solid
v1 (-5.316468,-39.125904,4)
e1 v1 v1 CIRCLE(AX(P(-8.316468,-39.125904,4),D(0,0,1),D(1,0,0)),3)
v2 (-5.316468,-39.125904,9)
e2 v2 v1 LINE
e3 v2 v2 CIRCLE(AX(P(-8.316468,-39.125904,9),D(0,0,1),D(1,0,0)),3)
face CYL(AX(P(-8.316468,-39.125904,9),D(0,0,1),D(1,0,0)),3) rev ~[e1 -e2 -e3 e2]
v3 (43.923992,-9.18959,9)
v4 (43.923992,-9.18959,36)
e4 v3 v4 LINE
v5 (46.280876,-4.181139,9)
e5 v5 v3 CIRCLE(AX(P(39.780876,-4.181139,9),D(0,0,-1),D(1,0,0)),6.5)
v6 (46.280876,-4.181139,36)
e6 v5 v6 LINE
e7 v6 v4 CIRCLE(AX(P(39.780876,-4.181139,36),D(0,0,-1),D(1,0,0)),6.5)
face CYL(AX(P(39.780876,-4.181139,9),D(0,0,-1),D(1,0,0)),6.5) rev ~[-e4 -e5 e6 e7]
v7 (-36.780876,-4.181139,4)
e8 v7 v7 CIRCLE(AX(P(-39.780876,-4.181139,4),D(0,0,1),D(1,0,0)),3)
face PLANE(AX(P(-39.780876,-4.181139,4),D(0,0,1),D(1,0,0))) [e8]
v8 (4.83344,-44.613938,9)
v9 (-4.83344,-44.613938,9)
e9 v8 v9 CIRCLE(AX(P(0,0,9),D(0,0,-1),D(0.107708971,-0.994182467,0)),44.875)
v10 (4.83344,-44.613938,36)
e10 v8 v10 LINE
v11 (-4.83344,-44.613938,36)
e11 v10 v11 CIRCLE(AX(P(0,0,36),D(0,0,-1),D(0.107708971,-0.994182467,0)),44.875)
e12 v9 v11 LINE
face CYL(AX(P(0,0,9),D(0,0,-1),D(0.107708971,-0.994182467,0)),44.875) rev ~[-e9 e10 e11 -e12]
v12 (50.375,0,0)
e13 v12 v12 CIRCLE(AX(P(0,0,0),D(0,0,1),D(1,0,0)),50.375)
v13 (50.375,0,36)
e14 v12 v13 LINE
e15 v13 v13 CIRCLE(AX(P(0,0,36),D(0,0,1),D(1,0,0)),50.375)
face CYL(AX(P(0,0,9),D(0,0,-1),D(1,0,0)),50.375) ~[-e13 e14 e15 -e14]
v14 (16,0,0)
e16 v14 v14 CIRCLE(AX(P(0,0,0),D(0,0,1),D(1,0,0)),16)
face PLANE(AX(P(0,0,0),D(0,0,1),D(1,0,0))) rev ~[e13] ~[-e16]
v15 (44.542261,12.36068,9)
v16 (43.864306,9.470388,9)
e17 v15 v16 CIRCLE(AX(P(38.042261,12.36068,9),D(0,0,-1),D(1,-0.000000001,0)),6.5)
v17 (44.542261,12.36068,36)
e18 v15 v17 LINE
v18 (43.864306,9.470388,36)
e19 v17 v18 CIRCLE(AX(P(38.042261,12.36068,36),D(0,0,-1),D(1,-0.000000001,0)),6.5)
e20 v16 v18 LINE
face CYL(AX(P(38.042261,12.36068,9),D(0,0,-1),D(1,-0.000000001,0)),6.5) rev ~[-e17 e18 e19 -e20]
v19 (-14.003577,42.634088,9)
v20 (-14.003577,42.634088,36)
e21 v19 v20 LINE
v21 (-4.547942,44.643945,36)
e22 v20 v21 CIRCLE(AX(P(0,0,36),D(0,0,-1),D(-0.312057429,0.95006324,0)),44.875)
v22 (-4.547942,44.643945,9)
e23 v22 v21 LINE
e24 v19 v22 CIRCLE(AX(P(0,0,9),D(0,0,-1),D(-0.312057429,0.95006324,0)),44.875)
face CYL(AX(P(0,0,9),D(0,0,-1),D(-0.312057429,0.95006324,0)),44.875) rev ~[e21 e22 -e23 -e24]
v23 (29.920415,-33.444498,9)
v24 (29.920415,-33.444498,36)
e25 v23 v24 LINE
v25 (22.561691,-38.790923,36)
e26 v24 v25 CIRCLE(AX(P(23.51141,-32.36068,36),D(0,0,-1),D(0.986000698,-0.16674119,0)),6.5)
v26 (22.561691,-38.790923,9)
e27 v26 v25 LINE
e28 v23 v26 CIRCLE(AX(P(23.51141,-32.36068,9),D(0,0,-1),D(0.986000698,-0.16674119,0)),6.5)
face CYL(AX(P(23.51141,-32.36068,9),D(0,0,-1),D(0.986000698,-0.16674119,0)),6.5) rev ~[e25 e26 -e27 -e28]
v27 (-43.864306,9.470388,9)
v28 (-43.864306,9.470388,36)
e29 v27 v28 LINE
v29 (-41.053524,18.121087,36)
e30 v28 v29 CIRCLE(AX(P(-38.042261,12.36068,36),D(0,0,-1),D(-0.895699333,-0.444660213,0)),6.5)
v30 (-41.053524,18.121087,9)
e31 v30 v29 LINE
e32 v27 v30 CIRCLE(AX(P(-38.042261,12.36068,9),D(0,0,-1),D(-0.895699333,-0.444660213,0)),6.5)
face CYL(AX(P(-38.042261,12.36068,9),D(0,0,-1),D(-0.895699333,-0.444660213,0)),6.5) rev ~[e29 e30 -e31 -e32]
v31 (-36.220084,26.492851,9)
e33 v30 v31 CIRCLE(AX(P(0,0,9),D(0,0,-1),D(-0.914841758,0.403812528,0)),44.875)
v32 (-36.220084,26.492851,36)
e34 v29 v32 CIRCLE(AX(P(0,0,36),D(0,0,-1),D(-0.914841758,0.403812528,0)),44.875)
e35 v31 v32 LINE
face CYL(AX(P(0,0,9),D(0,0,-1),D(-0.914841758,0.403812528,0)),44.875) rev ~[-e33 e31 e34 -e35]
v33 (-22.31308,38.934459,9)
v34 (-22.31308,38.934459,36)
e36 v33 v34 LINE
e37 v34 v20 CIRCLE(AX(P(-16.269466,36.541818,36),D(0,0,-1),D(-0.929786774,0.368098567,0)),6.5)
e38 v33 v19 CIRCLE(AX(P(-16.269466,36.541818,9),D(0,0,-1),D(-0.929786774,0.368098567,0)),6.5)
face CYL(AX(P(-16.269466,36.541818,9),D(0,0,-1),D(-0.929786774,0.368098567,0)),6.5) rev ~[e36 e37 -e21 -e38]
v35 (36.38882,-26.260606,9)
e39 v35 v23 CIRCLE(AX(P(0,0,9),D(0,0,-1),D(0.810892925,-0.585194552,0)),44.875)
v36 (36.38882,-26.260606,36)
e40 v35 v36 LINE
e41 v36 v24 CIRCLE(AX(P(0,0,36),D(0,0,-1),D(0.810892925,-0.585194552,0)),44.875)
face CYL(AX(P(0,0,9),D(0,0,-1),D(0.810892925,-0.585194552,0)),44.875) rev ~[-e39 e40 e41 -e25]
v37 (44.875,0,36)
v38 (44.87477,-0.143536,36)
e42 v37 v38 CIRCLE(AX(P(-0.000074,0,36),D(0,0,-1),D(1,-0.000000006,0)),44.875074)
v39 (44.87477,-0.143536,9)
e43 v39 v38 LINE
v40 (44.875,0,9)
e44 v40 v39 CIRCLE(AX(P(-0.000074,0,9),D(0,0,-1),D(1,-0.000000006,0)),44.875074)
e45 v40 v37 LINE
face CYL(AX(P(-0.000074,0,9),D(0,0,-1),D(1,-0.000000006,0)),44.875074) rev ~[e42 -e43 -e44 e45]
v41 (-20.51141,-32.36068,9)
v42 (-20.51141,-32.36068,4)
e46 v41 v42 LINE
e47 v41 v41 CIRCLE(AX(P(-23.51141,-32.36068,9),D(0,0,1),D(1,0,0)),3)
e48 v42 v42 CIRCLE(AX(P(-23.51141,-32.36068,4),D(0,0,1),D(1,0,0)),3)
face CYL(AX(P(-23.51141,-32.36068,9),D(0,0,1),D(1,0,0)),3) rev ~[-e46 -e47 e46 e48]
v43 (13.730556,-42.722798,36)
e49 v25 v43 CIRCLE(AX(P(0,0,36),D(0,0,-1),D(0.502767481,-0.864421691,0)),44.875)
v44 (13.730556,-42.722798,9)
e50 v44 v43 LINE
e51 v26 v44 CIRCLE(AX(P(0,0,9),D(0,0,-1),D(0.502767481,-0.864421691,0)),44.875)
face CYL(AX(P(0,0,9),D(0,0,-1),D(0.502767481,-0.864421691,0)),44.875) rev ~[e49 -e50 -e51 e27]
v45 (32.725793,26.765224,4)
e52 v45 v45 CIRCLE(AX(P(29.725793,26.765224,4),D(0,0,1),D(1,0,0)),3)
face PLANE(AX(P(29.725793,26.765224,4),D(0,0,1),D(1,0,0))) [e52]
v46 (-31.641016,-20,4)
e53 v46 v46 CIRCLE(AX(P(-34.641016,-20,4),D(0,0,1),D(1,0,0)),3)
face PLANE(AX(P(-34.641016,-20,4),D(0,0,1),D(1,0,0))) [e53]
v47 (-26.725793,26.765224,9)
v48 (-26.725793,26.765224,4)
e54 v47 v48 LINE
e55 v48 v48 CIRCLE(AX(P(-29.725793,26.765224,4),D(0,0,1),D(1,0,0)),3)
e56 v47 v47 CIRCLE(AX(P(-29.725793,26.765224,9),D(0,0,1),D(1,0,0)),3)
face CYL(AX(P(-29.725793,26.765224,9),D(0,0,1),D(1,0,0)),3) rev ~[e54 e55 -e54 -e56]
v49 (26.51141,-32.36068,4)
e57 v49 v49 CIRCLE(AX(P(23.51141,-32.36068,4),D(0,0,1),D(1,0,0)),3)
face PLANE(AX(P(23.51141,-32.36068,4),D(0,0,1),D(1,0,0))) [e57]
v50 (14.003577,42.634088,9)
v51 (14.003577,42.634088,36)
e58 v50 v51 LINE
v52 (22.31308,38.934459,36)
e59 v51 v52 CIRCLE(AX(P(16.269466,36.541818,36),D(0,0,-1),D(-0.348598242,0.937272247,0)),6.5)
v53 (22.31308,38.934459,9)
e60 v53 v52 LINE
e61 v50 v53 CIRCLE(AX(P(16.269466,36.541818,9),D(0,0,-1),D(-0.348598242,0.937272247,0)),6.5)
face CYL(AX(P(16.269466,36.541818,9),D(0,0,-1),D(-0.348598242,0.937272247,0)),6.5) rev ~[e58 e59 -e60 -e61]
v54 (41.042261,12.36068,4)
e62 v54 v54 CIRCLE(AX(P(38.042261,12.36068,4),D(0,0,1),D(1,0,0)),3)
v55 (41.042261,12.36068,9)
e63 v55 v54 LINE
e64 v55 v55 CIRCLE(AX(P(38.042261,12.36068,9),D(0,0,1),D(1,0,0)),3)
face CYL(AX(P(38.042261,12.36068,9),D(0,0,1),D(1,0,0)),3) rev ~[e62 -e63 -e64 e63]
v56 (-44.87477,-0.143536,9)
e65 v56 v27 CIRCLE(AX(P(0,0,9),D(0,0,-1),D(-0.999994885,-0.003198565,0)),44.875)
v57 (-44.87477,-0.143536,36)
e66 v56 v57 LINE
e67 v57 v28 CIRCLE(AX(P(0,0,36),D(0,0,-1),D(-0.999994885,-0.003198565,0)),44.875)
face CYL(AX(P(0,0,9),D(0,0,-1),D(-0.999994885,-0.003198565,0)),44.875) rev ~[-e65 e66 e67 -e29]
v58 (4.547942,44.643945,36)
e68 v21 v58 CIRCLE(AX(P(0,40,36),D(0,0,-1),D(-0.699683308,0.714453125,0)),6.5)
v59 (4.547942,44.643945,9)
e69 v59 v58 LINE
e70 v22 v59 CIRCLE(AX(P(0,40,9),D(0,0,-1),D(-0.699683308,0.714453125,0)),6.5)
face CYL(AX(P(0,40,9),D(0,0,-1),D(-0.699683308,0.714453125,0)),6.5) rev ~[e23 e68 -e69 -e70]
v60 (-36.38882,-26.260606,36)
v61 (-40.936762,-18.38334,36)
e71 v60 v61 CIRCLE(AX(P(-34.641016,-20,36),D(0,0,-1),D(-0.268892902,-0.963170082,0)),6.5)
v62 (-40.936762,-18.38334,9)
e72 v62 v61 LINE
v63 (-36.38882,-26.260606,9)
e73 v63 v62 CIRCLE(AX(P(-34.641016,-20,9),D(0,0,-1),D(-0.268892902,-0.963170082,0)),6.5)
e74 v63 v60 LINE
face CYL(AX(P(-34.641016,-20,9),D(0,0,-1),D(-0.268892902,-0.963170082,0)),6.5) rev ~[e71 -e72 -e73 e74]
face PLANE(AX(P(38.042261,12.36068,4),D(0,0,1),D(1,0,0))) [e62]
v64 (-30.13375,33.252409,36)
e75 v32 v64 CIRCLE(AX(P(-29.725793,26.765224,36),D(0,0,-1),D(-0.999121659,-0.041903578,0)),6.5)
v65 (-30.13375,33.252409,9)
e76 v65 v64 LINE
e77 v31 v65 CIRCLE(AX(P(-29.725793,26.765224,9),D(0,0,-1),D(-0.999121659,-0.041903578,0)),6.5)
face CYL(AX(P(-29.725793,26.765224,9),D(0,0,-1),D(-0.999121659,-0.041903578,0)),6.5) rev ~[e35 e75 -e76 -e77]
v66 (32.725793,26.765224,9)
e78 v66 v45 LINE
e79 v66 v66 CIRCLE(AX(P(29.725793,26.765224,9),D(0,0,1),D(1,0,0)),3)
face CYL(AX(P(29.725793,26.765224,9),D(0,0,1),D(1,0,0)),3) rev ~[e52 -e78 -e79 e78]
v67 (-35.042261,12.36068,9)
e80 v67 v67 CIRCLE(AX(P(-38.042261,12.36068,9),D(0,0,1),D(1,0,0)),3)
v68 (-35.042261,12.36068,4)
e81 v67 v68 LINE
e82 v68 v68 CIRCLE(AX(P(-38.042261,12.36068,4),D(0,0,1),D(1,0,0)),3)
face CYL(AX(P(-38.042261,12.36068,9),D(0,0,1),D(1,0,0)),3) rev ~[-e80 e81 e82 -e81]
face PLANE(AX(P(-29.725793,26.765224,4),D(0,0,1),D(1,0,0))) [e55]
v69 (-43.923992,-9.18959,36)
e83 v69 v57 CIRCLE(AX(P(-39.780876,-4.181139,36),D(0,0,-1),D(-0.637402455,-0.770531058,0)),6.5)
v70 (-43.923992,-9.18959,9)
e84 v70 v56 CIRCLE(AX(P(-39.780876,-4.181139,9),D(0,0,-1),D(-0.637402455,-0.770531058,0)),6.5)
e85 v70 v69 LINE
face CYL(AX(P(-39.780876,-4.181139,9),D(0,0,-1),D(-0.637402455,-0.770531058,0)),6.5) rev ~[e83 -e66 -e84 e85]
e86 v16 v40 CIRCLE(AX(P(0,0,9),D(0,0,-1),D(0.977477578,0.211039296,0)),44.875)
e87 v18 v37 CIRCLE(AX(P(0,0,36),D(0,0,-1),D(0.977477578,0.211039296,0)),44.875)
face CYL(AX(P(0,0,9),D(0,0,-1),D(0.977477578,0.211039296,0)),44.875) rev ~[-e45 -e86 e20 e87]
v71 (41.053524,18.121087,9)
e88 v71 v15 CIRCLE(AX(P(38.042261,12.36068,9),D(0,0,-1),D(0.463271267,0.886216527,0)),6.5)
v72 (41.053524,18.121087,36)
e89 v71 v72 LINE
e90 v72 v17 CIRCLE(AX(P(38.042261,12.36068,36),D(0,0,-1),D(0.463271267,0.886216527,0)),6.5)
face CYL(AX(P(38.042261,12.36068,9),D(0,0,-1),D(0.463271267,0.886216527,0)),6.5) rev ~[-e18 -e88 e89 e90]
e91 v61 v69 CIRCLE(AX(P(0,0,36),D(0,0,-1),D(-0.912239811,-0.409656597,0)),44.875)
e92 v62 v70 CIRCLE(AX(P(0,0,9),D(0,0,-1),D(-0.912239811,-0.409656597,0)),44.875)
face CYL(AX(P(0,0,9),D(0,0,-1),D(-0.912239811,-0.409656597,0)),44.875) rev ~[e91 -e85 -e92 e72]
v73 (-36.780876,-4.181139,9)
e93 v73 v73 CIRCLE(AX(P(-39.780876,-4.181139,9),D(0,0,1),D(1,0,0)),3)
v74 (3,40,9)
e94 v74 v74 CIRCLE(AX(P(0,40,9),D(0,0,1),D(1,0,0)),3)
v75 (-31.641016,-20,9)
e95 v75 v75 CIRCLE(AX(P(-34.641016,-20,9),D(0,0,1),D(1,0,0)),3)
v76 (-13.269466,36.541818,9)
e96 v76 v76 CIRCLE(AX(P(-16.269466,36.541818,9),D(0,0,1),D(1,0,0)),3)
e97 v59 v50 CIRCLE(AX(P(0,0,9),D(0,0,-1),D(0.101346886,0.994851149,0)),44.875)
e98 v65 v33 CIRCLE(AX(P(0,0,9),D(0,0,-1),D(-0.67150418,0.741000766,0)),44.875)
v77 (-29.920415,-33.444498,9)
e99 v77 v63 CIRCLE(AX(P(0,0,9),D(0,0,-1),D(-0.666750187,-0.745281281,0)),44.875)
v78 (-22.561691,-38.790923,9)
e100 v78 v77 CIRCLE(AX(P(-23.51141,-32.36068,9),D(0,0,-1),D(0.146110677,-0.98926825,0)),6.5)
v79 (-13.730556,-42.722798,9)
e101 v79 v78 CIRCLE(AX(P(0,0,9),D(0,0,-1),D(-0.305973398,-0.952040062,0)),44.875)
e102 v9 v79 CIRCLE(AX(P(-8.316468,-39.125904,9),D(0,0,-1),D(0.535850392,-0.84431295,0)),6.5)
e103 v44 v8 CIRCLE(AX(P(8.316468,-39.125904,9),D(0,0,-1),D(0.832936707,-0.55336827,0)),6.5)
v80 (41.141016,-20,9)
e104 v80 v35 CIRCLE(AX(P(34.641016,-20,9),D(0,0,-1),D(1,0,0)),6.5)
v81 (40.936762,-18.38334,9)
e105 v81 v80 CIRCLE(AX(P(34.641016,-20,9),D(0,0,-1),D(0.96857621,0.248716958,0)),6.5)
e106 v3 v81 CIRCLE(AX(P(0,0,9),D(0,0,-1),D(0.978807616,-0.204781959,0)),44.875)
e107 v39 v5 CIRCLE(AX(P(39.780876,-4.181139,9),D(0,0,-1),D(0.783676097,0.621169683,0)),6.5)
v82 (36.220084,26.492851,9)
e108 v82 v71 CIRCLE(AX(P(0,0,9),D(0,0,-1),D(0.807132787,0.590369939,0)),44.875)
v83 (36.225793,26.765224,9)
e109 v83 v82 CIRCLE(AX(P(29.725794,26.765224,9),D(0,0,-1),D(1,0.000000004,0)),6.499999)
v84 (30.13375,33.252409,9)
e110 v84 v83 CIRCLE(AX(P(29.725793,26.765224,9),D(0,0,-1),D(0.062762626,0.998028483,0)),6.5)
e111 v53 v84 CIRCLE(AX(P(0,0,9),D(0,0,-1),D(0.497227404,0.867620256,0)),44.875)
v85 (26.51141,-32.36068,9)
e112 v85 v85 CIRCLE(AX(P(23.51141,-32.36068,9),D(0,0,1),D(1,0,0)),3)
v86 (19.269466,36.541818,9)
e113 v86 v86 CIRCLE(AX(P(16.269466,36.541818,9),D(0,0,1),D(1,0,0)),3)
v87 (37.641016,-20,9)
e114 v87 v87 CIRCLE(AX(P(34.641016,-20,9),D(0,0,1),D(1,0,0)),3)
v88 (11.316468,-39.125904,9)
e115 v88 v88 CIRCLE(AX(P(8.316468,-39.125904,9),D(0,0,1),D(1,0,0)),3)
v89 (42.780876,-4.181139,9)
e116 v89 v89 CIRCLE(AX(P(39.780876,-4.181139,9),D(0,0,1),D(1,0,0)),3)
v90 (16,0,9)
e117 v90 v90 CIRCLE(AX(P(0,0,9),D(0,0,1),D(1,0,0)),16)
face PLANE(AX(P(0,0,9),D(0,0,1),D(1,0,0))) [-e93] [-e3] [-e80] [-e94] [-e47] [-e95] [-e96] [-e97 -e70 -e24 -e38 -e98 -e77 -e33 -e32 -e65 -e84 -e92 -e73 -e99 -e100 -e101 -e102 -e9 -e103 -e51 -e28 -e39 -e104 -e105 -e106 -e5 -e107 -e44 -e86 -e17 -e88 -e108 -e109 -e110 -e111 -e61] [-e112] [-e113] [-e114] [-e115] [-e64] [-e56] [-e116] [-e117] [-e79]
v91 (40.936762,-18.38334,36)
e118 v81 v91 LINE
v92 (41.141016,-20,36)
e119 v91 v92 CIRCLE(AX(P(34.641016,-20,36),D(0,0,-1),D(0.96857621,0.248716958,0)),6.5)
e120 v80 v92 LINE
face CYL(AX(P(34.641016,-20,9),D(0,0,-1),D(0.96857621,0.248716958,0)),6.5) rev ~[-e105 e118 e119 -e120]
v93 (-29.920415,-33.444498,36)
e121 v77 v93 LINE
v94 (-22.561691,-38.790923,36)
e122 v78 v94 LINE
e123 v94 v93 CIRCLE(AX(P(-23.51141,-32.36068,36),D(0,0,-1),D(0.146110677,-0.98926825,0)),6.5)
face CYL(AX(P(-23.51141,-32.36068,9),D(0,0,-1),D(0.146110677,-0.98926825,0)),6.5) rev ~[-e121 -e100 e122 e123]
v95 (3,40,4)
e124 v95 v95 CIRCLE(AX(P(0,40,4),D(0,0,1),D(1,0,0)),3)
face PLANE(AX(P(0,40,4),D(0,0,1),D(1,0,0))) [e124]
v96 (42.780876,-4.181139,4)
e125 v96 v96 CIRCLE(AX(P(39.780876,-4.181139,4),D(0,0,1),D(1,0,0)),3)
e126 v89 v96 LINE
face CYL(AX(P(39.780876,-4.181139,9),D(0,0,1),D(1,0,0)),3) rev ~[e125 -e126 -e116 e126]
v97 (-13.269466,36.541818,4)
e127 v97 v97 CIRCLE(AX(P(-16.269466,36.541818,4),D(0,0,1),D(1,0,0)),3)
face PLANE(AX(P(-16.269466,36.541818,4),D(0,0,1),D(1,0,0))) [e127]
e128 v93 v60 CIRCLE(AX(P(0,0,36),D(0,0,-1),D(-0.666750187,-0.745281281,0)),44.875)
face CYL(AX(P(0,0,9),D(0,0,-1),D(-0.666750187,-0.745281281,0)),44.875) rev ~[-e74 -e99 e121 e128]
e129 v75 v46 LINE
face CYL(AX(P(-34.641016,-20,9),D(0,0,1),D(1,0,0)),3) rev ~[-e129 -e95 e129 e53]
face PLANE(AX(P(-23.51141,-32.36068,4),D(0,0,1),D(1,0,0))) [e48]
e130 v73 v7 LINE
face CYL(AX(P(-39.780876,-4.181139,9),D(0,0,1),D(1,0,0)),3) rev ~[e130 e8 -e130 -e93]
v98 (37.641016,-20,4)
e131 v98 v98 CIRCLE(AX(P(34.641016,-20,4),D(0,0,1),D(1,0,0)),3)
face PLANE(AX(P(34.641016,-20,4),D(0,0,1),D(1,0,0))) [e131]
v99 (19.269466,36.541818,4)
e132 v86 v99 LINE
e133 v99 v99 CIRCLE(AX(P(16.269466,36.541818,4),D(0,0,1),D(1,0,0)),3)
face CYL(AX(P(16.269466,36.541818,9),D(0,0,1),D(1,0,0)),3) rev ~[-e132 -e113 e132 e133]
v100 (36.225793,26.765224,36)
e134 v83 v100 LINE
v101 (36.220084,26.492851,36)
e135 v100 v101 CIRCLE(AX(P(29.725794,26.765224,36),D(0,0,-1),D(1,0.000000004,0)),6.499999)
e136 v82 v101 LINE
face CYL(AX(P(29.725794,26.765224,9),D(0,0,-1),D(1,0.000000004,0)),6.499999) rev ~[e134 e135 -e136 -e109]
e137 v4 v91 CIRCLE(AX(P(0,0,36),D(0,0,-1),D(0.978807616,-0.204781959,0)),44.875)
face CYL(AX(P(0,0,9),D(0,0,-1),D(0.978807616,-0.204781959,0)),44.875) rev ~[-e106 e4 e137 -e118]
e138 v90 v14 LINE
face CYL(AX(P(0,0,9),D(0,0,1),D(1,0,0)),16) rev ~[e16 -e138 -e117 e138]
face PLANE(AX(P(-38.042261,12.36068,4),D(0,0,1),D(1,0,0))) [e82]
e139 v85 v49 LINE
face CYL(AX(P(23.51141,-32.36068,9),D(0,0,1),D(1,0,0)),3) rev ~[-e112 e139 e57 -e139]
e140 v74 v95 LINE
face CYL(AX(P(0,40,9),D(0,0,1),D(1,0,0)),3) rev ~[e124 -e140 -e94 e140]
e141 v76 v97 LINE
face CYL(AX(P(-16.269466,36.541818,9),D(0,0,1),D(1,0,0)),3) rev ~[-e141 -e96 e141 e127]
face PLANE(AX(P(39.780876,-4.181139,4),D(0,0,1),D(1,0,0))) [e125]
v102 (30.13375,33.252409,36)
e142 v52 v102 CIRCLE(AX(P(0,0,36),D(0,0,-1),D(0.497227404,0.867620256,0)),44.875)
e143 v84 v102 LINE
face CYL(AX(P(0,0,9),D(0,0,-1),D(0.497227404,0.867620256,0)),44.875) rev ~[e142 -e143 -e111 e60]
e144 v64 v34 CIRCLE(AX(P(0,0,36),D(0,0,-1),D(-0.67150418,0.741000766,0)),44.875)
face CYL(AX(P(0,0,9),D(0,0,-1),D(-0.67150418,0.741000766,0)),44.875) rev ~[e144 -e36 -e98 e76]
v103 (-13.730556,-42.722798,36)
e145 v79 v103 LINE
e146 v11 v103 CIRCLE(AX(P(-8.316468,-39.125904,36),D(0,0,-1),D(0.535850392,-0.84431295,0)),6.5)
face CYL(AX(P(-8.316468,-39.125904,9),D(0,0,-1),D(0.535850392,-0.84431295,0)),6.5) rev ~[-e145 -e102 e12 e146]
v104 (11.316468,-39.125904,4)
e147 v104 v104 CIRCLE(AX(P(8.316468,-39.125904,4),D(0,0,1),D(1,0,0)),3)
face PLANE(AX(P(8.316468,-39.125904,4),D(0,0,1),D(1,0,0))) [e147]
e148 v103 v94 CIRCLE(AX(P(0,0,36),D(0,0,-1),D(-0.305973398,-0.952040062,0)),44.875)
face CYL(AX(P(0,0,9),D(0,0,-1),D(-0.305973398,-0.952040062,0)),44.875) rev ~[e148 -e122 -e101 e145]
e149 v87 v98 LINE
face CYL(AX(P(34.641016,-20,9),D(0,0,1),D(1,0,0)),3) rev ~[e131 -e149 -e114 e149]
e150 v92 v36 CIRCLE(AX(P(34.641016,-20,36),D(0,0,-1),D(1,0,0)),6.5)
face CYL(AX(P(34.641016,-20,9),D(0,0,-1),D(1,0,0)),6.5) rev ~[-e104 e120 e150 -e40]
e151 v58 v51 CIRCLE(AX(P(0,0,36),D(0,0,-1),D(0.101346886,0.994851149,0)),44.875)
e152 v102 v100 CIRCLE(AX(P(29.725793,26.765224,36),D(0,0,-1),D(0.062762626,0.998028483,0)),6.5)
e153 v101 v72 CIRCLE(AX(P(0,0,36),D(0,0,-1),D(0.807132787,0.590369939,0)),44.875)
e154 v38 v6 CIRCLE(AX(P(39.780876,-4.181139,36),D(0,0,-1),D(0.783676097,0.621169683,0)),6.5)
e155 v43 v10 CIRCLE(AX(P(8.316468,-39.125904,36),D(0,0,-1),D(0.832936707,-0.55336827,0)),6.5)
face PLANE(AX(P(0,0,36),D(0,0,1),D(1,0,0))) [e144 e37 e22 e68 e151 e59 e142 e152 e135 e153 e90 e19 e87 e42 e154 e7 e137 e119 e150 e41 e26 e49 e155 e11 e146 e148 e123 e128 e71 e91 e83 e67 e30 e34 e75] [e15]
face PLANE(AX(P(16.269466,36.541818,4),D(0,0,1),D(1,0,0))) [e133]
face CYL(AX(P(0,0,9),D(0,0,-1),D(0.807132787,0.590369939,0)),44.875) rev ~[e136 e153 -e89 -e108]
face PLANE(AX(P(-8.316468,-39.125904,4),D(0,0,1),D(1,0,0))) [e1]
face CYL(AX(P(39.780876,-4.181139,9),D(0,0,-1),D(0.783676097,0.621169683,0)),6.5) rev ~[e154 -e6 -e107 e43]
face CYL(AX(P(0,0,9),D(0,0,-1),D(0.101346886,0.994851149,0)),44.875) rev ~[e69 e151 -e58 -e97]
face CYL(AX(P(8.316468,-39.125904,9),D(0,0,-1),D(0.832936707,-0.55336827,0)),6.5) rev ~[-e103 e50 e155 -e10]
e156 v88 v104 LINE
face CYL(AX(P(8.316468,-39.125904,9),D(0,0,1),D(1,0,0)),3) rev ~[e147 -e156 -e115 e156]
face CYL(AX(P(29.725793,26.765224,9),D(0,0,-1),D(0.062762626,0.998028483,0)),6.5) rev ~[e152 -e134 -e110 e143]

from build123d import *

# Parameters (mm, degrees)
SKETCH1_R           = 50.375
BOSS_EXTRUDE1_DEPTH = 9
SKETCH2_R           = 50.375
BOSS_EXTRUDE2_DEPTH = 27
SKETCH3_R           = 3
CUT_EXTRUDE3_DEPTH  = 5
SKETCH4_R           = 16
CUT_EXTRUDE4_DEPTH  = 77.185833657


with BuildPart() as part:
    # Sketch1 → Boss-Extrude1 (new body)
    with BuildSketch(Plane.XY):
        Circle(SKETCH1_R)
    extrude(amount=BOSS_EXTRUDE1_DEPTH)

    # Sketch2 → Boss-Extrude2 (add)
    with BuildSketch(Plane.XY.offset(9)):
        Circle(SKETCH2_R)
        with BuildLine():
            ThreePointArc((43.864306317, 9.470388393), (44.621611193, 4.762083526), (44.875, 0))
            ThreePointArc((44.875, 0), (44.874942611, -0.071767888), (44.874770445, -0.143535592))
            ThreePointArc((44.874770445, -0.143535592), (45.919292349, -2.043419548), (46.280875815, -4.181138531))
            ThreePointArc((46.280875815, -4.181138531), (45.662212981, -6.948786113), (43.923991772, -9.189590403))
            ThreePointArc((43.923991772, -9.189590403), (42.678661169, -13.867137623), (40.936761518, -18.383339778))
            ThreePointArc((40.936761518, -18.383339778), (41.089750325, -19.185243866), (41.141016151, -20))
            ThreePointArc((41.141016151, -20), (39.818405701, -23.929966596), (36.388820013, -26.260605535))
            ThreePointArc((36.388820013, -26.260605535), (33.348624043, -30.02723596), (29.920414626, -33.444497509))
            ThreePointArc((29.920414626, -33.444497509), (27.332014232, -37.619290238), (22.561690692, -38.790923399))
            ThreePointArc((22.561690692, -38.790923399), (18.252306858, -40.995352412), (13.730556226, -42.722797787))
            ThreePointArc((13.730556226, -42.722797787), (9.667893623, -45.483863434), (4.833440083, -44.613938203))
            ThreePointArc((4.833440083, -44.613938203), (0, -44.875), (-4.833440083, -44.613938203))
            ThreePointArc((-4.833440083, -44.613938203), (-9.667893623, -45.483863434), (-13.730556226, -42.722797787))
            ThreePointArc((-13.730556226, -42.722797787), (-18.252306858, -40.995352412), (-22.561690692, -38.790923399))
            ThreePointArc((-22.561690692, -38.790923399), (-27.332014232, -37.619290238), (-29.920414626, -33.444497509))
            ThreePointArc((-29.920414626, -33.444497509), (-33.348624043, -30.02723596), (-36.388820013, -26.260605535))
            ThreePointArc((-36.388820013, -26.260605535), (-40.270181276, -23.25), (-40.936761518, -18.383339778))
            ThreePointArc((-40.936761518, -18.383339778), (-42.678661169, -13.867137623), (-43.923991772, -9.189590403))
            ThreePointArc((-43.923991772, -9.189590403), (-46.245268135, -4.860573542), (-44.874770445, -0.143535592))
            ThreePointArc((-44.874770445, -0.143535592), (-44.629170055, 4.690714789), (-43.864306317, 9.470388393))
            ThreePointArc((-43.864306317, 9.470388393), (-44.224128008, 14.369290238), (-41.053523888, 18.121087202))
            ThreePointArc((-41.053523888, 18.121087202), (-38.862889995, 22.4375), (-36.220083805, 26.492851001))
            ThreePointArc((-36.220083805, 26.492851001), (-34.556234385, 31.114573196), (-30.133750091, 33.252409393))
            ThreePointArc((-30.133750091, 33.252409393), (-26.376863197, 36.304637623), (-22.313079754, 38.934458991))
            ThreePointArc((-22.313079754, 38.934458991), (-18.913253903, 42.47986378), (-14.003577146, 42.634087912))
            ThreePointArc((-14.003577146, 42.634087912), (-9.330037125, 43.894373583), (-4.547941505, 44.643945313))
            ThreePointArc((-4.547941505, 44.643945313), (0, 46.5), (4.547941505, 44.643945313))
            ThreePointArc((4.547941505, 44.643945313), (9.330037125, 43.894373583), (14.003577146, 42.634087912))
            ThreePointArc((14.003577146, 42.634087912), (18.913253903, 42.47986378), (22.313079754, 38.934458991))
            ThreePointArc((22.313079754, 38.934458991), (26.376863197, 36.304637623), (30.133750091, 33.252409393))
            ThreePointArc((30.133750091, 33.252409393), (34.464026918, 31.214846656), (36.225793019, 26.765224254))
            ThreePointArc((36.225793019, 26.765224254), (36.224365559, 26.629007713), (36.220083805, 26.492851001))
            ThreePointArc((36.220083805, 26.492851001), (38.862889995, 22.4375), (41.053523888, 18.121087202))
            ThreePointArc((41.053523888, 18.121087202), (43.602081289, 15.72793303), (44.542260652, 12.360679775))
            ThreePointArc((44.542260652, 12.360679775), (44.370502778, 10.876310688), (43.864306317, 9.470388393))
        make_face(mode=Mode.SUBTRACT)
    extrude(amount=BOSS_EXTRUDE2_DEPTH)

    # Sketch3 → Cut-Extrude3 (cut)
    with BuildSketch(Plane.XY.offset(9)):
        with Locations((0, 40)):
            Circle(SKETCH3_R)
        with Locations((16.269465723, 36.541818306)):
            Circle(SKETCH3_R)
        with Locations((29.725793019, 26.765224254)):
            Circle(SKETCH3_R)
        with Locations((38.042260652, 12.360679775)):
            Circle(SKETCH3_R)
        with Locations((39.780875815, -4.181138531)):
            Circle(SKETCH3_R)
        with Locations((34.641016151, -20)):
            Circle(SKETCH3_R)
        with Locations((23.511410092, -32.360679775)):
            Circle(SKETCH3_R)
        with Locations((8.316467633, -39.125904029)):
            Circle(SKETCH3_R)
        with Locations((-8.316467633, -39.125904029)):
            Circle(SKETCH3_R)
        with Locations((-23.511410092, -32.360679775)):
            Circle(SKETCH3_R)
        with Locations((-34.641016151, -20)):
            Circle(SKETCH3_R)
        with Locations((-39.780875815, -4.181138531)):
            Circle(SKETCH3_R)
        with Locations((-38.042260652, 12.360679775)):
            Circle(SKETCH3_R)
        with Locations((-29.725793019, 26.765224254)):
            Circle(SKETCH3_R)
        with Locations((-16.269465723, 36.541818306)):
            Circle(SKETCH3_R)
    extrude(amount=-CUT_EXTRUDE3_DEPTH, mode=Mode.SUBTRACT)

    # Sketch4 → Cut-Extrude4 (cut, through all)
    with BuildSketch(Plane.XY.offset(9)):
        Circle(SKETCH4_R)
    extrude(amount=-CUT_EXTRUDE4_DEPTH, mode=Mode.SUBTRACT)


solid = part.part
